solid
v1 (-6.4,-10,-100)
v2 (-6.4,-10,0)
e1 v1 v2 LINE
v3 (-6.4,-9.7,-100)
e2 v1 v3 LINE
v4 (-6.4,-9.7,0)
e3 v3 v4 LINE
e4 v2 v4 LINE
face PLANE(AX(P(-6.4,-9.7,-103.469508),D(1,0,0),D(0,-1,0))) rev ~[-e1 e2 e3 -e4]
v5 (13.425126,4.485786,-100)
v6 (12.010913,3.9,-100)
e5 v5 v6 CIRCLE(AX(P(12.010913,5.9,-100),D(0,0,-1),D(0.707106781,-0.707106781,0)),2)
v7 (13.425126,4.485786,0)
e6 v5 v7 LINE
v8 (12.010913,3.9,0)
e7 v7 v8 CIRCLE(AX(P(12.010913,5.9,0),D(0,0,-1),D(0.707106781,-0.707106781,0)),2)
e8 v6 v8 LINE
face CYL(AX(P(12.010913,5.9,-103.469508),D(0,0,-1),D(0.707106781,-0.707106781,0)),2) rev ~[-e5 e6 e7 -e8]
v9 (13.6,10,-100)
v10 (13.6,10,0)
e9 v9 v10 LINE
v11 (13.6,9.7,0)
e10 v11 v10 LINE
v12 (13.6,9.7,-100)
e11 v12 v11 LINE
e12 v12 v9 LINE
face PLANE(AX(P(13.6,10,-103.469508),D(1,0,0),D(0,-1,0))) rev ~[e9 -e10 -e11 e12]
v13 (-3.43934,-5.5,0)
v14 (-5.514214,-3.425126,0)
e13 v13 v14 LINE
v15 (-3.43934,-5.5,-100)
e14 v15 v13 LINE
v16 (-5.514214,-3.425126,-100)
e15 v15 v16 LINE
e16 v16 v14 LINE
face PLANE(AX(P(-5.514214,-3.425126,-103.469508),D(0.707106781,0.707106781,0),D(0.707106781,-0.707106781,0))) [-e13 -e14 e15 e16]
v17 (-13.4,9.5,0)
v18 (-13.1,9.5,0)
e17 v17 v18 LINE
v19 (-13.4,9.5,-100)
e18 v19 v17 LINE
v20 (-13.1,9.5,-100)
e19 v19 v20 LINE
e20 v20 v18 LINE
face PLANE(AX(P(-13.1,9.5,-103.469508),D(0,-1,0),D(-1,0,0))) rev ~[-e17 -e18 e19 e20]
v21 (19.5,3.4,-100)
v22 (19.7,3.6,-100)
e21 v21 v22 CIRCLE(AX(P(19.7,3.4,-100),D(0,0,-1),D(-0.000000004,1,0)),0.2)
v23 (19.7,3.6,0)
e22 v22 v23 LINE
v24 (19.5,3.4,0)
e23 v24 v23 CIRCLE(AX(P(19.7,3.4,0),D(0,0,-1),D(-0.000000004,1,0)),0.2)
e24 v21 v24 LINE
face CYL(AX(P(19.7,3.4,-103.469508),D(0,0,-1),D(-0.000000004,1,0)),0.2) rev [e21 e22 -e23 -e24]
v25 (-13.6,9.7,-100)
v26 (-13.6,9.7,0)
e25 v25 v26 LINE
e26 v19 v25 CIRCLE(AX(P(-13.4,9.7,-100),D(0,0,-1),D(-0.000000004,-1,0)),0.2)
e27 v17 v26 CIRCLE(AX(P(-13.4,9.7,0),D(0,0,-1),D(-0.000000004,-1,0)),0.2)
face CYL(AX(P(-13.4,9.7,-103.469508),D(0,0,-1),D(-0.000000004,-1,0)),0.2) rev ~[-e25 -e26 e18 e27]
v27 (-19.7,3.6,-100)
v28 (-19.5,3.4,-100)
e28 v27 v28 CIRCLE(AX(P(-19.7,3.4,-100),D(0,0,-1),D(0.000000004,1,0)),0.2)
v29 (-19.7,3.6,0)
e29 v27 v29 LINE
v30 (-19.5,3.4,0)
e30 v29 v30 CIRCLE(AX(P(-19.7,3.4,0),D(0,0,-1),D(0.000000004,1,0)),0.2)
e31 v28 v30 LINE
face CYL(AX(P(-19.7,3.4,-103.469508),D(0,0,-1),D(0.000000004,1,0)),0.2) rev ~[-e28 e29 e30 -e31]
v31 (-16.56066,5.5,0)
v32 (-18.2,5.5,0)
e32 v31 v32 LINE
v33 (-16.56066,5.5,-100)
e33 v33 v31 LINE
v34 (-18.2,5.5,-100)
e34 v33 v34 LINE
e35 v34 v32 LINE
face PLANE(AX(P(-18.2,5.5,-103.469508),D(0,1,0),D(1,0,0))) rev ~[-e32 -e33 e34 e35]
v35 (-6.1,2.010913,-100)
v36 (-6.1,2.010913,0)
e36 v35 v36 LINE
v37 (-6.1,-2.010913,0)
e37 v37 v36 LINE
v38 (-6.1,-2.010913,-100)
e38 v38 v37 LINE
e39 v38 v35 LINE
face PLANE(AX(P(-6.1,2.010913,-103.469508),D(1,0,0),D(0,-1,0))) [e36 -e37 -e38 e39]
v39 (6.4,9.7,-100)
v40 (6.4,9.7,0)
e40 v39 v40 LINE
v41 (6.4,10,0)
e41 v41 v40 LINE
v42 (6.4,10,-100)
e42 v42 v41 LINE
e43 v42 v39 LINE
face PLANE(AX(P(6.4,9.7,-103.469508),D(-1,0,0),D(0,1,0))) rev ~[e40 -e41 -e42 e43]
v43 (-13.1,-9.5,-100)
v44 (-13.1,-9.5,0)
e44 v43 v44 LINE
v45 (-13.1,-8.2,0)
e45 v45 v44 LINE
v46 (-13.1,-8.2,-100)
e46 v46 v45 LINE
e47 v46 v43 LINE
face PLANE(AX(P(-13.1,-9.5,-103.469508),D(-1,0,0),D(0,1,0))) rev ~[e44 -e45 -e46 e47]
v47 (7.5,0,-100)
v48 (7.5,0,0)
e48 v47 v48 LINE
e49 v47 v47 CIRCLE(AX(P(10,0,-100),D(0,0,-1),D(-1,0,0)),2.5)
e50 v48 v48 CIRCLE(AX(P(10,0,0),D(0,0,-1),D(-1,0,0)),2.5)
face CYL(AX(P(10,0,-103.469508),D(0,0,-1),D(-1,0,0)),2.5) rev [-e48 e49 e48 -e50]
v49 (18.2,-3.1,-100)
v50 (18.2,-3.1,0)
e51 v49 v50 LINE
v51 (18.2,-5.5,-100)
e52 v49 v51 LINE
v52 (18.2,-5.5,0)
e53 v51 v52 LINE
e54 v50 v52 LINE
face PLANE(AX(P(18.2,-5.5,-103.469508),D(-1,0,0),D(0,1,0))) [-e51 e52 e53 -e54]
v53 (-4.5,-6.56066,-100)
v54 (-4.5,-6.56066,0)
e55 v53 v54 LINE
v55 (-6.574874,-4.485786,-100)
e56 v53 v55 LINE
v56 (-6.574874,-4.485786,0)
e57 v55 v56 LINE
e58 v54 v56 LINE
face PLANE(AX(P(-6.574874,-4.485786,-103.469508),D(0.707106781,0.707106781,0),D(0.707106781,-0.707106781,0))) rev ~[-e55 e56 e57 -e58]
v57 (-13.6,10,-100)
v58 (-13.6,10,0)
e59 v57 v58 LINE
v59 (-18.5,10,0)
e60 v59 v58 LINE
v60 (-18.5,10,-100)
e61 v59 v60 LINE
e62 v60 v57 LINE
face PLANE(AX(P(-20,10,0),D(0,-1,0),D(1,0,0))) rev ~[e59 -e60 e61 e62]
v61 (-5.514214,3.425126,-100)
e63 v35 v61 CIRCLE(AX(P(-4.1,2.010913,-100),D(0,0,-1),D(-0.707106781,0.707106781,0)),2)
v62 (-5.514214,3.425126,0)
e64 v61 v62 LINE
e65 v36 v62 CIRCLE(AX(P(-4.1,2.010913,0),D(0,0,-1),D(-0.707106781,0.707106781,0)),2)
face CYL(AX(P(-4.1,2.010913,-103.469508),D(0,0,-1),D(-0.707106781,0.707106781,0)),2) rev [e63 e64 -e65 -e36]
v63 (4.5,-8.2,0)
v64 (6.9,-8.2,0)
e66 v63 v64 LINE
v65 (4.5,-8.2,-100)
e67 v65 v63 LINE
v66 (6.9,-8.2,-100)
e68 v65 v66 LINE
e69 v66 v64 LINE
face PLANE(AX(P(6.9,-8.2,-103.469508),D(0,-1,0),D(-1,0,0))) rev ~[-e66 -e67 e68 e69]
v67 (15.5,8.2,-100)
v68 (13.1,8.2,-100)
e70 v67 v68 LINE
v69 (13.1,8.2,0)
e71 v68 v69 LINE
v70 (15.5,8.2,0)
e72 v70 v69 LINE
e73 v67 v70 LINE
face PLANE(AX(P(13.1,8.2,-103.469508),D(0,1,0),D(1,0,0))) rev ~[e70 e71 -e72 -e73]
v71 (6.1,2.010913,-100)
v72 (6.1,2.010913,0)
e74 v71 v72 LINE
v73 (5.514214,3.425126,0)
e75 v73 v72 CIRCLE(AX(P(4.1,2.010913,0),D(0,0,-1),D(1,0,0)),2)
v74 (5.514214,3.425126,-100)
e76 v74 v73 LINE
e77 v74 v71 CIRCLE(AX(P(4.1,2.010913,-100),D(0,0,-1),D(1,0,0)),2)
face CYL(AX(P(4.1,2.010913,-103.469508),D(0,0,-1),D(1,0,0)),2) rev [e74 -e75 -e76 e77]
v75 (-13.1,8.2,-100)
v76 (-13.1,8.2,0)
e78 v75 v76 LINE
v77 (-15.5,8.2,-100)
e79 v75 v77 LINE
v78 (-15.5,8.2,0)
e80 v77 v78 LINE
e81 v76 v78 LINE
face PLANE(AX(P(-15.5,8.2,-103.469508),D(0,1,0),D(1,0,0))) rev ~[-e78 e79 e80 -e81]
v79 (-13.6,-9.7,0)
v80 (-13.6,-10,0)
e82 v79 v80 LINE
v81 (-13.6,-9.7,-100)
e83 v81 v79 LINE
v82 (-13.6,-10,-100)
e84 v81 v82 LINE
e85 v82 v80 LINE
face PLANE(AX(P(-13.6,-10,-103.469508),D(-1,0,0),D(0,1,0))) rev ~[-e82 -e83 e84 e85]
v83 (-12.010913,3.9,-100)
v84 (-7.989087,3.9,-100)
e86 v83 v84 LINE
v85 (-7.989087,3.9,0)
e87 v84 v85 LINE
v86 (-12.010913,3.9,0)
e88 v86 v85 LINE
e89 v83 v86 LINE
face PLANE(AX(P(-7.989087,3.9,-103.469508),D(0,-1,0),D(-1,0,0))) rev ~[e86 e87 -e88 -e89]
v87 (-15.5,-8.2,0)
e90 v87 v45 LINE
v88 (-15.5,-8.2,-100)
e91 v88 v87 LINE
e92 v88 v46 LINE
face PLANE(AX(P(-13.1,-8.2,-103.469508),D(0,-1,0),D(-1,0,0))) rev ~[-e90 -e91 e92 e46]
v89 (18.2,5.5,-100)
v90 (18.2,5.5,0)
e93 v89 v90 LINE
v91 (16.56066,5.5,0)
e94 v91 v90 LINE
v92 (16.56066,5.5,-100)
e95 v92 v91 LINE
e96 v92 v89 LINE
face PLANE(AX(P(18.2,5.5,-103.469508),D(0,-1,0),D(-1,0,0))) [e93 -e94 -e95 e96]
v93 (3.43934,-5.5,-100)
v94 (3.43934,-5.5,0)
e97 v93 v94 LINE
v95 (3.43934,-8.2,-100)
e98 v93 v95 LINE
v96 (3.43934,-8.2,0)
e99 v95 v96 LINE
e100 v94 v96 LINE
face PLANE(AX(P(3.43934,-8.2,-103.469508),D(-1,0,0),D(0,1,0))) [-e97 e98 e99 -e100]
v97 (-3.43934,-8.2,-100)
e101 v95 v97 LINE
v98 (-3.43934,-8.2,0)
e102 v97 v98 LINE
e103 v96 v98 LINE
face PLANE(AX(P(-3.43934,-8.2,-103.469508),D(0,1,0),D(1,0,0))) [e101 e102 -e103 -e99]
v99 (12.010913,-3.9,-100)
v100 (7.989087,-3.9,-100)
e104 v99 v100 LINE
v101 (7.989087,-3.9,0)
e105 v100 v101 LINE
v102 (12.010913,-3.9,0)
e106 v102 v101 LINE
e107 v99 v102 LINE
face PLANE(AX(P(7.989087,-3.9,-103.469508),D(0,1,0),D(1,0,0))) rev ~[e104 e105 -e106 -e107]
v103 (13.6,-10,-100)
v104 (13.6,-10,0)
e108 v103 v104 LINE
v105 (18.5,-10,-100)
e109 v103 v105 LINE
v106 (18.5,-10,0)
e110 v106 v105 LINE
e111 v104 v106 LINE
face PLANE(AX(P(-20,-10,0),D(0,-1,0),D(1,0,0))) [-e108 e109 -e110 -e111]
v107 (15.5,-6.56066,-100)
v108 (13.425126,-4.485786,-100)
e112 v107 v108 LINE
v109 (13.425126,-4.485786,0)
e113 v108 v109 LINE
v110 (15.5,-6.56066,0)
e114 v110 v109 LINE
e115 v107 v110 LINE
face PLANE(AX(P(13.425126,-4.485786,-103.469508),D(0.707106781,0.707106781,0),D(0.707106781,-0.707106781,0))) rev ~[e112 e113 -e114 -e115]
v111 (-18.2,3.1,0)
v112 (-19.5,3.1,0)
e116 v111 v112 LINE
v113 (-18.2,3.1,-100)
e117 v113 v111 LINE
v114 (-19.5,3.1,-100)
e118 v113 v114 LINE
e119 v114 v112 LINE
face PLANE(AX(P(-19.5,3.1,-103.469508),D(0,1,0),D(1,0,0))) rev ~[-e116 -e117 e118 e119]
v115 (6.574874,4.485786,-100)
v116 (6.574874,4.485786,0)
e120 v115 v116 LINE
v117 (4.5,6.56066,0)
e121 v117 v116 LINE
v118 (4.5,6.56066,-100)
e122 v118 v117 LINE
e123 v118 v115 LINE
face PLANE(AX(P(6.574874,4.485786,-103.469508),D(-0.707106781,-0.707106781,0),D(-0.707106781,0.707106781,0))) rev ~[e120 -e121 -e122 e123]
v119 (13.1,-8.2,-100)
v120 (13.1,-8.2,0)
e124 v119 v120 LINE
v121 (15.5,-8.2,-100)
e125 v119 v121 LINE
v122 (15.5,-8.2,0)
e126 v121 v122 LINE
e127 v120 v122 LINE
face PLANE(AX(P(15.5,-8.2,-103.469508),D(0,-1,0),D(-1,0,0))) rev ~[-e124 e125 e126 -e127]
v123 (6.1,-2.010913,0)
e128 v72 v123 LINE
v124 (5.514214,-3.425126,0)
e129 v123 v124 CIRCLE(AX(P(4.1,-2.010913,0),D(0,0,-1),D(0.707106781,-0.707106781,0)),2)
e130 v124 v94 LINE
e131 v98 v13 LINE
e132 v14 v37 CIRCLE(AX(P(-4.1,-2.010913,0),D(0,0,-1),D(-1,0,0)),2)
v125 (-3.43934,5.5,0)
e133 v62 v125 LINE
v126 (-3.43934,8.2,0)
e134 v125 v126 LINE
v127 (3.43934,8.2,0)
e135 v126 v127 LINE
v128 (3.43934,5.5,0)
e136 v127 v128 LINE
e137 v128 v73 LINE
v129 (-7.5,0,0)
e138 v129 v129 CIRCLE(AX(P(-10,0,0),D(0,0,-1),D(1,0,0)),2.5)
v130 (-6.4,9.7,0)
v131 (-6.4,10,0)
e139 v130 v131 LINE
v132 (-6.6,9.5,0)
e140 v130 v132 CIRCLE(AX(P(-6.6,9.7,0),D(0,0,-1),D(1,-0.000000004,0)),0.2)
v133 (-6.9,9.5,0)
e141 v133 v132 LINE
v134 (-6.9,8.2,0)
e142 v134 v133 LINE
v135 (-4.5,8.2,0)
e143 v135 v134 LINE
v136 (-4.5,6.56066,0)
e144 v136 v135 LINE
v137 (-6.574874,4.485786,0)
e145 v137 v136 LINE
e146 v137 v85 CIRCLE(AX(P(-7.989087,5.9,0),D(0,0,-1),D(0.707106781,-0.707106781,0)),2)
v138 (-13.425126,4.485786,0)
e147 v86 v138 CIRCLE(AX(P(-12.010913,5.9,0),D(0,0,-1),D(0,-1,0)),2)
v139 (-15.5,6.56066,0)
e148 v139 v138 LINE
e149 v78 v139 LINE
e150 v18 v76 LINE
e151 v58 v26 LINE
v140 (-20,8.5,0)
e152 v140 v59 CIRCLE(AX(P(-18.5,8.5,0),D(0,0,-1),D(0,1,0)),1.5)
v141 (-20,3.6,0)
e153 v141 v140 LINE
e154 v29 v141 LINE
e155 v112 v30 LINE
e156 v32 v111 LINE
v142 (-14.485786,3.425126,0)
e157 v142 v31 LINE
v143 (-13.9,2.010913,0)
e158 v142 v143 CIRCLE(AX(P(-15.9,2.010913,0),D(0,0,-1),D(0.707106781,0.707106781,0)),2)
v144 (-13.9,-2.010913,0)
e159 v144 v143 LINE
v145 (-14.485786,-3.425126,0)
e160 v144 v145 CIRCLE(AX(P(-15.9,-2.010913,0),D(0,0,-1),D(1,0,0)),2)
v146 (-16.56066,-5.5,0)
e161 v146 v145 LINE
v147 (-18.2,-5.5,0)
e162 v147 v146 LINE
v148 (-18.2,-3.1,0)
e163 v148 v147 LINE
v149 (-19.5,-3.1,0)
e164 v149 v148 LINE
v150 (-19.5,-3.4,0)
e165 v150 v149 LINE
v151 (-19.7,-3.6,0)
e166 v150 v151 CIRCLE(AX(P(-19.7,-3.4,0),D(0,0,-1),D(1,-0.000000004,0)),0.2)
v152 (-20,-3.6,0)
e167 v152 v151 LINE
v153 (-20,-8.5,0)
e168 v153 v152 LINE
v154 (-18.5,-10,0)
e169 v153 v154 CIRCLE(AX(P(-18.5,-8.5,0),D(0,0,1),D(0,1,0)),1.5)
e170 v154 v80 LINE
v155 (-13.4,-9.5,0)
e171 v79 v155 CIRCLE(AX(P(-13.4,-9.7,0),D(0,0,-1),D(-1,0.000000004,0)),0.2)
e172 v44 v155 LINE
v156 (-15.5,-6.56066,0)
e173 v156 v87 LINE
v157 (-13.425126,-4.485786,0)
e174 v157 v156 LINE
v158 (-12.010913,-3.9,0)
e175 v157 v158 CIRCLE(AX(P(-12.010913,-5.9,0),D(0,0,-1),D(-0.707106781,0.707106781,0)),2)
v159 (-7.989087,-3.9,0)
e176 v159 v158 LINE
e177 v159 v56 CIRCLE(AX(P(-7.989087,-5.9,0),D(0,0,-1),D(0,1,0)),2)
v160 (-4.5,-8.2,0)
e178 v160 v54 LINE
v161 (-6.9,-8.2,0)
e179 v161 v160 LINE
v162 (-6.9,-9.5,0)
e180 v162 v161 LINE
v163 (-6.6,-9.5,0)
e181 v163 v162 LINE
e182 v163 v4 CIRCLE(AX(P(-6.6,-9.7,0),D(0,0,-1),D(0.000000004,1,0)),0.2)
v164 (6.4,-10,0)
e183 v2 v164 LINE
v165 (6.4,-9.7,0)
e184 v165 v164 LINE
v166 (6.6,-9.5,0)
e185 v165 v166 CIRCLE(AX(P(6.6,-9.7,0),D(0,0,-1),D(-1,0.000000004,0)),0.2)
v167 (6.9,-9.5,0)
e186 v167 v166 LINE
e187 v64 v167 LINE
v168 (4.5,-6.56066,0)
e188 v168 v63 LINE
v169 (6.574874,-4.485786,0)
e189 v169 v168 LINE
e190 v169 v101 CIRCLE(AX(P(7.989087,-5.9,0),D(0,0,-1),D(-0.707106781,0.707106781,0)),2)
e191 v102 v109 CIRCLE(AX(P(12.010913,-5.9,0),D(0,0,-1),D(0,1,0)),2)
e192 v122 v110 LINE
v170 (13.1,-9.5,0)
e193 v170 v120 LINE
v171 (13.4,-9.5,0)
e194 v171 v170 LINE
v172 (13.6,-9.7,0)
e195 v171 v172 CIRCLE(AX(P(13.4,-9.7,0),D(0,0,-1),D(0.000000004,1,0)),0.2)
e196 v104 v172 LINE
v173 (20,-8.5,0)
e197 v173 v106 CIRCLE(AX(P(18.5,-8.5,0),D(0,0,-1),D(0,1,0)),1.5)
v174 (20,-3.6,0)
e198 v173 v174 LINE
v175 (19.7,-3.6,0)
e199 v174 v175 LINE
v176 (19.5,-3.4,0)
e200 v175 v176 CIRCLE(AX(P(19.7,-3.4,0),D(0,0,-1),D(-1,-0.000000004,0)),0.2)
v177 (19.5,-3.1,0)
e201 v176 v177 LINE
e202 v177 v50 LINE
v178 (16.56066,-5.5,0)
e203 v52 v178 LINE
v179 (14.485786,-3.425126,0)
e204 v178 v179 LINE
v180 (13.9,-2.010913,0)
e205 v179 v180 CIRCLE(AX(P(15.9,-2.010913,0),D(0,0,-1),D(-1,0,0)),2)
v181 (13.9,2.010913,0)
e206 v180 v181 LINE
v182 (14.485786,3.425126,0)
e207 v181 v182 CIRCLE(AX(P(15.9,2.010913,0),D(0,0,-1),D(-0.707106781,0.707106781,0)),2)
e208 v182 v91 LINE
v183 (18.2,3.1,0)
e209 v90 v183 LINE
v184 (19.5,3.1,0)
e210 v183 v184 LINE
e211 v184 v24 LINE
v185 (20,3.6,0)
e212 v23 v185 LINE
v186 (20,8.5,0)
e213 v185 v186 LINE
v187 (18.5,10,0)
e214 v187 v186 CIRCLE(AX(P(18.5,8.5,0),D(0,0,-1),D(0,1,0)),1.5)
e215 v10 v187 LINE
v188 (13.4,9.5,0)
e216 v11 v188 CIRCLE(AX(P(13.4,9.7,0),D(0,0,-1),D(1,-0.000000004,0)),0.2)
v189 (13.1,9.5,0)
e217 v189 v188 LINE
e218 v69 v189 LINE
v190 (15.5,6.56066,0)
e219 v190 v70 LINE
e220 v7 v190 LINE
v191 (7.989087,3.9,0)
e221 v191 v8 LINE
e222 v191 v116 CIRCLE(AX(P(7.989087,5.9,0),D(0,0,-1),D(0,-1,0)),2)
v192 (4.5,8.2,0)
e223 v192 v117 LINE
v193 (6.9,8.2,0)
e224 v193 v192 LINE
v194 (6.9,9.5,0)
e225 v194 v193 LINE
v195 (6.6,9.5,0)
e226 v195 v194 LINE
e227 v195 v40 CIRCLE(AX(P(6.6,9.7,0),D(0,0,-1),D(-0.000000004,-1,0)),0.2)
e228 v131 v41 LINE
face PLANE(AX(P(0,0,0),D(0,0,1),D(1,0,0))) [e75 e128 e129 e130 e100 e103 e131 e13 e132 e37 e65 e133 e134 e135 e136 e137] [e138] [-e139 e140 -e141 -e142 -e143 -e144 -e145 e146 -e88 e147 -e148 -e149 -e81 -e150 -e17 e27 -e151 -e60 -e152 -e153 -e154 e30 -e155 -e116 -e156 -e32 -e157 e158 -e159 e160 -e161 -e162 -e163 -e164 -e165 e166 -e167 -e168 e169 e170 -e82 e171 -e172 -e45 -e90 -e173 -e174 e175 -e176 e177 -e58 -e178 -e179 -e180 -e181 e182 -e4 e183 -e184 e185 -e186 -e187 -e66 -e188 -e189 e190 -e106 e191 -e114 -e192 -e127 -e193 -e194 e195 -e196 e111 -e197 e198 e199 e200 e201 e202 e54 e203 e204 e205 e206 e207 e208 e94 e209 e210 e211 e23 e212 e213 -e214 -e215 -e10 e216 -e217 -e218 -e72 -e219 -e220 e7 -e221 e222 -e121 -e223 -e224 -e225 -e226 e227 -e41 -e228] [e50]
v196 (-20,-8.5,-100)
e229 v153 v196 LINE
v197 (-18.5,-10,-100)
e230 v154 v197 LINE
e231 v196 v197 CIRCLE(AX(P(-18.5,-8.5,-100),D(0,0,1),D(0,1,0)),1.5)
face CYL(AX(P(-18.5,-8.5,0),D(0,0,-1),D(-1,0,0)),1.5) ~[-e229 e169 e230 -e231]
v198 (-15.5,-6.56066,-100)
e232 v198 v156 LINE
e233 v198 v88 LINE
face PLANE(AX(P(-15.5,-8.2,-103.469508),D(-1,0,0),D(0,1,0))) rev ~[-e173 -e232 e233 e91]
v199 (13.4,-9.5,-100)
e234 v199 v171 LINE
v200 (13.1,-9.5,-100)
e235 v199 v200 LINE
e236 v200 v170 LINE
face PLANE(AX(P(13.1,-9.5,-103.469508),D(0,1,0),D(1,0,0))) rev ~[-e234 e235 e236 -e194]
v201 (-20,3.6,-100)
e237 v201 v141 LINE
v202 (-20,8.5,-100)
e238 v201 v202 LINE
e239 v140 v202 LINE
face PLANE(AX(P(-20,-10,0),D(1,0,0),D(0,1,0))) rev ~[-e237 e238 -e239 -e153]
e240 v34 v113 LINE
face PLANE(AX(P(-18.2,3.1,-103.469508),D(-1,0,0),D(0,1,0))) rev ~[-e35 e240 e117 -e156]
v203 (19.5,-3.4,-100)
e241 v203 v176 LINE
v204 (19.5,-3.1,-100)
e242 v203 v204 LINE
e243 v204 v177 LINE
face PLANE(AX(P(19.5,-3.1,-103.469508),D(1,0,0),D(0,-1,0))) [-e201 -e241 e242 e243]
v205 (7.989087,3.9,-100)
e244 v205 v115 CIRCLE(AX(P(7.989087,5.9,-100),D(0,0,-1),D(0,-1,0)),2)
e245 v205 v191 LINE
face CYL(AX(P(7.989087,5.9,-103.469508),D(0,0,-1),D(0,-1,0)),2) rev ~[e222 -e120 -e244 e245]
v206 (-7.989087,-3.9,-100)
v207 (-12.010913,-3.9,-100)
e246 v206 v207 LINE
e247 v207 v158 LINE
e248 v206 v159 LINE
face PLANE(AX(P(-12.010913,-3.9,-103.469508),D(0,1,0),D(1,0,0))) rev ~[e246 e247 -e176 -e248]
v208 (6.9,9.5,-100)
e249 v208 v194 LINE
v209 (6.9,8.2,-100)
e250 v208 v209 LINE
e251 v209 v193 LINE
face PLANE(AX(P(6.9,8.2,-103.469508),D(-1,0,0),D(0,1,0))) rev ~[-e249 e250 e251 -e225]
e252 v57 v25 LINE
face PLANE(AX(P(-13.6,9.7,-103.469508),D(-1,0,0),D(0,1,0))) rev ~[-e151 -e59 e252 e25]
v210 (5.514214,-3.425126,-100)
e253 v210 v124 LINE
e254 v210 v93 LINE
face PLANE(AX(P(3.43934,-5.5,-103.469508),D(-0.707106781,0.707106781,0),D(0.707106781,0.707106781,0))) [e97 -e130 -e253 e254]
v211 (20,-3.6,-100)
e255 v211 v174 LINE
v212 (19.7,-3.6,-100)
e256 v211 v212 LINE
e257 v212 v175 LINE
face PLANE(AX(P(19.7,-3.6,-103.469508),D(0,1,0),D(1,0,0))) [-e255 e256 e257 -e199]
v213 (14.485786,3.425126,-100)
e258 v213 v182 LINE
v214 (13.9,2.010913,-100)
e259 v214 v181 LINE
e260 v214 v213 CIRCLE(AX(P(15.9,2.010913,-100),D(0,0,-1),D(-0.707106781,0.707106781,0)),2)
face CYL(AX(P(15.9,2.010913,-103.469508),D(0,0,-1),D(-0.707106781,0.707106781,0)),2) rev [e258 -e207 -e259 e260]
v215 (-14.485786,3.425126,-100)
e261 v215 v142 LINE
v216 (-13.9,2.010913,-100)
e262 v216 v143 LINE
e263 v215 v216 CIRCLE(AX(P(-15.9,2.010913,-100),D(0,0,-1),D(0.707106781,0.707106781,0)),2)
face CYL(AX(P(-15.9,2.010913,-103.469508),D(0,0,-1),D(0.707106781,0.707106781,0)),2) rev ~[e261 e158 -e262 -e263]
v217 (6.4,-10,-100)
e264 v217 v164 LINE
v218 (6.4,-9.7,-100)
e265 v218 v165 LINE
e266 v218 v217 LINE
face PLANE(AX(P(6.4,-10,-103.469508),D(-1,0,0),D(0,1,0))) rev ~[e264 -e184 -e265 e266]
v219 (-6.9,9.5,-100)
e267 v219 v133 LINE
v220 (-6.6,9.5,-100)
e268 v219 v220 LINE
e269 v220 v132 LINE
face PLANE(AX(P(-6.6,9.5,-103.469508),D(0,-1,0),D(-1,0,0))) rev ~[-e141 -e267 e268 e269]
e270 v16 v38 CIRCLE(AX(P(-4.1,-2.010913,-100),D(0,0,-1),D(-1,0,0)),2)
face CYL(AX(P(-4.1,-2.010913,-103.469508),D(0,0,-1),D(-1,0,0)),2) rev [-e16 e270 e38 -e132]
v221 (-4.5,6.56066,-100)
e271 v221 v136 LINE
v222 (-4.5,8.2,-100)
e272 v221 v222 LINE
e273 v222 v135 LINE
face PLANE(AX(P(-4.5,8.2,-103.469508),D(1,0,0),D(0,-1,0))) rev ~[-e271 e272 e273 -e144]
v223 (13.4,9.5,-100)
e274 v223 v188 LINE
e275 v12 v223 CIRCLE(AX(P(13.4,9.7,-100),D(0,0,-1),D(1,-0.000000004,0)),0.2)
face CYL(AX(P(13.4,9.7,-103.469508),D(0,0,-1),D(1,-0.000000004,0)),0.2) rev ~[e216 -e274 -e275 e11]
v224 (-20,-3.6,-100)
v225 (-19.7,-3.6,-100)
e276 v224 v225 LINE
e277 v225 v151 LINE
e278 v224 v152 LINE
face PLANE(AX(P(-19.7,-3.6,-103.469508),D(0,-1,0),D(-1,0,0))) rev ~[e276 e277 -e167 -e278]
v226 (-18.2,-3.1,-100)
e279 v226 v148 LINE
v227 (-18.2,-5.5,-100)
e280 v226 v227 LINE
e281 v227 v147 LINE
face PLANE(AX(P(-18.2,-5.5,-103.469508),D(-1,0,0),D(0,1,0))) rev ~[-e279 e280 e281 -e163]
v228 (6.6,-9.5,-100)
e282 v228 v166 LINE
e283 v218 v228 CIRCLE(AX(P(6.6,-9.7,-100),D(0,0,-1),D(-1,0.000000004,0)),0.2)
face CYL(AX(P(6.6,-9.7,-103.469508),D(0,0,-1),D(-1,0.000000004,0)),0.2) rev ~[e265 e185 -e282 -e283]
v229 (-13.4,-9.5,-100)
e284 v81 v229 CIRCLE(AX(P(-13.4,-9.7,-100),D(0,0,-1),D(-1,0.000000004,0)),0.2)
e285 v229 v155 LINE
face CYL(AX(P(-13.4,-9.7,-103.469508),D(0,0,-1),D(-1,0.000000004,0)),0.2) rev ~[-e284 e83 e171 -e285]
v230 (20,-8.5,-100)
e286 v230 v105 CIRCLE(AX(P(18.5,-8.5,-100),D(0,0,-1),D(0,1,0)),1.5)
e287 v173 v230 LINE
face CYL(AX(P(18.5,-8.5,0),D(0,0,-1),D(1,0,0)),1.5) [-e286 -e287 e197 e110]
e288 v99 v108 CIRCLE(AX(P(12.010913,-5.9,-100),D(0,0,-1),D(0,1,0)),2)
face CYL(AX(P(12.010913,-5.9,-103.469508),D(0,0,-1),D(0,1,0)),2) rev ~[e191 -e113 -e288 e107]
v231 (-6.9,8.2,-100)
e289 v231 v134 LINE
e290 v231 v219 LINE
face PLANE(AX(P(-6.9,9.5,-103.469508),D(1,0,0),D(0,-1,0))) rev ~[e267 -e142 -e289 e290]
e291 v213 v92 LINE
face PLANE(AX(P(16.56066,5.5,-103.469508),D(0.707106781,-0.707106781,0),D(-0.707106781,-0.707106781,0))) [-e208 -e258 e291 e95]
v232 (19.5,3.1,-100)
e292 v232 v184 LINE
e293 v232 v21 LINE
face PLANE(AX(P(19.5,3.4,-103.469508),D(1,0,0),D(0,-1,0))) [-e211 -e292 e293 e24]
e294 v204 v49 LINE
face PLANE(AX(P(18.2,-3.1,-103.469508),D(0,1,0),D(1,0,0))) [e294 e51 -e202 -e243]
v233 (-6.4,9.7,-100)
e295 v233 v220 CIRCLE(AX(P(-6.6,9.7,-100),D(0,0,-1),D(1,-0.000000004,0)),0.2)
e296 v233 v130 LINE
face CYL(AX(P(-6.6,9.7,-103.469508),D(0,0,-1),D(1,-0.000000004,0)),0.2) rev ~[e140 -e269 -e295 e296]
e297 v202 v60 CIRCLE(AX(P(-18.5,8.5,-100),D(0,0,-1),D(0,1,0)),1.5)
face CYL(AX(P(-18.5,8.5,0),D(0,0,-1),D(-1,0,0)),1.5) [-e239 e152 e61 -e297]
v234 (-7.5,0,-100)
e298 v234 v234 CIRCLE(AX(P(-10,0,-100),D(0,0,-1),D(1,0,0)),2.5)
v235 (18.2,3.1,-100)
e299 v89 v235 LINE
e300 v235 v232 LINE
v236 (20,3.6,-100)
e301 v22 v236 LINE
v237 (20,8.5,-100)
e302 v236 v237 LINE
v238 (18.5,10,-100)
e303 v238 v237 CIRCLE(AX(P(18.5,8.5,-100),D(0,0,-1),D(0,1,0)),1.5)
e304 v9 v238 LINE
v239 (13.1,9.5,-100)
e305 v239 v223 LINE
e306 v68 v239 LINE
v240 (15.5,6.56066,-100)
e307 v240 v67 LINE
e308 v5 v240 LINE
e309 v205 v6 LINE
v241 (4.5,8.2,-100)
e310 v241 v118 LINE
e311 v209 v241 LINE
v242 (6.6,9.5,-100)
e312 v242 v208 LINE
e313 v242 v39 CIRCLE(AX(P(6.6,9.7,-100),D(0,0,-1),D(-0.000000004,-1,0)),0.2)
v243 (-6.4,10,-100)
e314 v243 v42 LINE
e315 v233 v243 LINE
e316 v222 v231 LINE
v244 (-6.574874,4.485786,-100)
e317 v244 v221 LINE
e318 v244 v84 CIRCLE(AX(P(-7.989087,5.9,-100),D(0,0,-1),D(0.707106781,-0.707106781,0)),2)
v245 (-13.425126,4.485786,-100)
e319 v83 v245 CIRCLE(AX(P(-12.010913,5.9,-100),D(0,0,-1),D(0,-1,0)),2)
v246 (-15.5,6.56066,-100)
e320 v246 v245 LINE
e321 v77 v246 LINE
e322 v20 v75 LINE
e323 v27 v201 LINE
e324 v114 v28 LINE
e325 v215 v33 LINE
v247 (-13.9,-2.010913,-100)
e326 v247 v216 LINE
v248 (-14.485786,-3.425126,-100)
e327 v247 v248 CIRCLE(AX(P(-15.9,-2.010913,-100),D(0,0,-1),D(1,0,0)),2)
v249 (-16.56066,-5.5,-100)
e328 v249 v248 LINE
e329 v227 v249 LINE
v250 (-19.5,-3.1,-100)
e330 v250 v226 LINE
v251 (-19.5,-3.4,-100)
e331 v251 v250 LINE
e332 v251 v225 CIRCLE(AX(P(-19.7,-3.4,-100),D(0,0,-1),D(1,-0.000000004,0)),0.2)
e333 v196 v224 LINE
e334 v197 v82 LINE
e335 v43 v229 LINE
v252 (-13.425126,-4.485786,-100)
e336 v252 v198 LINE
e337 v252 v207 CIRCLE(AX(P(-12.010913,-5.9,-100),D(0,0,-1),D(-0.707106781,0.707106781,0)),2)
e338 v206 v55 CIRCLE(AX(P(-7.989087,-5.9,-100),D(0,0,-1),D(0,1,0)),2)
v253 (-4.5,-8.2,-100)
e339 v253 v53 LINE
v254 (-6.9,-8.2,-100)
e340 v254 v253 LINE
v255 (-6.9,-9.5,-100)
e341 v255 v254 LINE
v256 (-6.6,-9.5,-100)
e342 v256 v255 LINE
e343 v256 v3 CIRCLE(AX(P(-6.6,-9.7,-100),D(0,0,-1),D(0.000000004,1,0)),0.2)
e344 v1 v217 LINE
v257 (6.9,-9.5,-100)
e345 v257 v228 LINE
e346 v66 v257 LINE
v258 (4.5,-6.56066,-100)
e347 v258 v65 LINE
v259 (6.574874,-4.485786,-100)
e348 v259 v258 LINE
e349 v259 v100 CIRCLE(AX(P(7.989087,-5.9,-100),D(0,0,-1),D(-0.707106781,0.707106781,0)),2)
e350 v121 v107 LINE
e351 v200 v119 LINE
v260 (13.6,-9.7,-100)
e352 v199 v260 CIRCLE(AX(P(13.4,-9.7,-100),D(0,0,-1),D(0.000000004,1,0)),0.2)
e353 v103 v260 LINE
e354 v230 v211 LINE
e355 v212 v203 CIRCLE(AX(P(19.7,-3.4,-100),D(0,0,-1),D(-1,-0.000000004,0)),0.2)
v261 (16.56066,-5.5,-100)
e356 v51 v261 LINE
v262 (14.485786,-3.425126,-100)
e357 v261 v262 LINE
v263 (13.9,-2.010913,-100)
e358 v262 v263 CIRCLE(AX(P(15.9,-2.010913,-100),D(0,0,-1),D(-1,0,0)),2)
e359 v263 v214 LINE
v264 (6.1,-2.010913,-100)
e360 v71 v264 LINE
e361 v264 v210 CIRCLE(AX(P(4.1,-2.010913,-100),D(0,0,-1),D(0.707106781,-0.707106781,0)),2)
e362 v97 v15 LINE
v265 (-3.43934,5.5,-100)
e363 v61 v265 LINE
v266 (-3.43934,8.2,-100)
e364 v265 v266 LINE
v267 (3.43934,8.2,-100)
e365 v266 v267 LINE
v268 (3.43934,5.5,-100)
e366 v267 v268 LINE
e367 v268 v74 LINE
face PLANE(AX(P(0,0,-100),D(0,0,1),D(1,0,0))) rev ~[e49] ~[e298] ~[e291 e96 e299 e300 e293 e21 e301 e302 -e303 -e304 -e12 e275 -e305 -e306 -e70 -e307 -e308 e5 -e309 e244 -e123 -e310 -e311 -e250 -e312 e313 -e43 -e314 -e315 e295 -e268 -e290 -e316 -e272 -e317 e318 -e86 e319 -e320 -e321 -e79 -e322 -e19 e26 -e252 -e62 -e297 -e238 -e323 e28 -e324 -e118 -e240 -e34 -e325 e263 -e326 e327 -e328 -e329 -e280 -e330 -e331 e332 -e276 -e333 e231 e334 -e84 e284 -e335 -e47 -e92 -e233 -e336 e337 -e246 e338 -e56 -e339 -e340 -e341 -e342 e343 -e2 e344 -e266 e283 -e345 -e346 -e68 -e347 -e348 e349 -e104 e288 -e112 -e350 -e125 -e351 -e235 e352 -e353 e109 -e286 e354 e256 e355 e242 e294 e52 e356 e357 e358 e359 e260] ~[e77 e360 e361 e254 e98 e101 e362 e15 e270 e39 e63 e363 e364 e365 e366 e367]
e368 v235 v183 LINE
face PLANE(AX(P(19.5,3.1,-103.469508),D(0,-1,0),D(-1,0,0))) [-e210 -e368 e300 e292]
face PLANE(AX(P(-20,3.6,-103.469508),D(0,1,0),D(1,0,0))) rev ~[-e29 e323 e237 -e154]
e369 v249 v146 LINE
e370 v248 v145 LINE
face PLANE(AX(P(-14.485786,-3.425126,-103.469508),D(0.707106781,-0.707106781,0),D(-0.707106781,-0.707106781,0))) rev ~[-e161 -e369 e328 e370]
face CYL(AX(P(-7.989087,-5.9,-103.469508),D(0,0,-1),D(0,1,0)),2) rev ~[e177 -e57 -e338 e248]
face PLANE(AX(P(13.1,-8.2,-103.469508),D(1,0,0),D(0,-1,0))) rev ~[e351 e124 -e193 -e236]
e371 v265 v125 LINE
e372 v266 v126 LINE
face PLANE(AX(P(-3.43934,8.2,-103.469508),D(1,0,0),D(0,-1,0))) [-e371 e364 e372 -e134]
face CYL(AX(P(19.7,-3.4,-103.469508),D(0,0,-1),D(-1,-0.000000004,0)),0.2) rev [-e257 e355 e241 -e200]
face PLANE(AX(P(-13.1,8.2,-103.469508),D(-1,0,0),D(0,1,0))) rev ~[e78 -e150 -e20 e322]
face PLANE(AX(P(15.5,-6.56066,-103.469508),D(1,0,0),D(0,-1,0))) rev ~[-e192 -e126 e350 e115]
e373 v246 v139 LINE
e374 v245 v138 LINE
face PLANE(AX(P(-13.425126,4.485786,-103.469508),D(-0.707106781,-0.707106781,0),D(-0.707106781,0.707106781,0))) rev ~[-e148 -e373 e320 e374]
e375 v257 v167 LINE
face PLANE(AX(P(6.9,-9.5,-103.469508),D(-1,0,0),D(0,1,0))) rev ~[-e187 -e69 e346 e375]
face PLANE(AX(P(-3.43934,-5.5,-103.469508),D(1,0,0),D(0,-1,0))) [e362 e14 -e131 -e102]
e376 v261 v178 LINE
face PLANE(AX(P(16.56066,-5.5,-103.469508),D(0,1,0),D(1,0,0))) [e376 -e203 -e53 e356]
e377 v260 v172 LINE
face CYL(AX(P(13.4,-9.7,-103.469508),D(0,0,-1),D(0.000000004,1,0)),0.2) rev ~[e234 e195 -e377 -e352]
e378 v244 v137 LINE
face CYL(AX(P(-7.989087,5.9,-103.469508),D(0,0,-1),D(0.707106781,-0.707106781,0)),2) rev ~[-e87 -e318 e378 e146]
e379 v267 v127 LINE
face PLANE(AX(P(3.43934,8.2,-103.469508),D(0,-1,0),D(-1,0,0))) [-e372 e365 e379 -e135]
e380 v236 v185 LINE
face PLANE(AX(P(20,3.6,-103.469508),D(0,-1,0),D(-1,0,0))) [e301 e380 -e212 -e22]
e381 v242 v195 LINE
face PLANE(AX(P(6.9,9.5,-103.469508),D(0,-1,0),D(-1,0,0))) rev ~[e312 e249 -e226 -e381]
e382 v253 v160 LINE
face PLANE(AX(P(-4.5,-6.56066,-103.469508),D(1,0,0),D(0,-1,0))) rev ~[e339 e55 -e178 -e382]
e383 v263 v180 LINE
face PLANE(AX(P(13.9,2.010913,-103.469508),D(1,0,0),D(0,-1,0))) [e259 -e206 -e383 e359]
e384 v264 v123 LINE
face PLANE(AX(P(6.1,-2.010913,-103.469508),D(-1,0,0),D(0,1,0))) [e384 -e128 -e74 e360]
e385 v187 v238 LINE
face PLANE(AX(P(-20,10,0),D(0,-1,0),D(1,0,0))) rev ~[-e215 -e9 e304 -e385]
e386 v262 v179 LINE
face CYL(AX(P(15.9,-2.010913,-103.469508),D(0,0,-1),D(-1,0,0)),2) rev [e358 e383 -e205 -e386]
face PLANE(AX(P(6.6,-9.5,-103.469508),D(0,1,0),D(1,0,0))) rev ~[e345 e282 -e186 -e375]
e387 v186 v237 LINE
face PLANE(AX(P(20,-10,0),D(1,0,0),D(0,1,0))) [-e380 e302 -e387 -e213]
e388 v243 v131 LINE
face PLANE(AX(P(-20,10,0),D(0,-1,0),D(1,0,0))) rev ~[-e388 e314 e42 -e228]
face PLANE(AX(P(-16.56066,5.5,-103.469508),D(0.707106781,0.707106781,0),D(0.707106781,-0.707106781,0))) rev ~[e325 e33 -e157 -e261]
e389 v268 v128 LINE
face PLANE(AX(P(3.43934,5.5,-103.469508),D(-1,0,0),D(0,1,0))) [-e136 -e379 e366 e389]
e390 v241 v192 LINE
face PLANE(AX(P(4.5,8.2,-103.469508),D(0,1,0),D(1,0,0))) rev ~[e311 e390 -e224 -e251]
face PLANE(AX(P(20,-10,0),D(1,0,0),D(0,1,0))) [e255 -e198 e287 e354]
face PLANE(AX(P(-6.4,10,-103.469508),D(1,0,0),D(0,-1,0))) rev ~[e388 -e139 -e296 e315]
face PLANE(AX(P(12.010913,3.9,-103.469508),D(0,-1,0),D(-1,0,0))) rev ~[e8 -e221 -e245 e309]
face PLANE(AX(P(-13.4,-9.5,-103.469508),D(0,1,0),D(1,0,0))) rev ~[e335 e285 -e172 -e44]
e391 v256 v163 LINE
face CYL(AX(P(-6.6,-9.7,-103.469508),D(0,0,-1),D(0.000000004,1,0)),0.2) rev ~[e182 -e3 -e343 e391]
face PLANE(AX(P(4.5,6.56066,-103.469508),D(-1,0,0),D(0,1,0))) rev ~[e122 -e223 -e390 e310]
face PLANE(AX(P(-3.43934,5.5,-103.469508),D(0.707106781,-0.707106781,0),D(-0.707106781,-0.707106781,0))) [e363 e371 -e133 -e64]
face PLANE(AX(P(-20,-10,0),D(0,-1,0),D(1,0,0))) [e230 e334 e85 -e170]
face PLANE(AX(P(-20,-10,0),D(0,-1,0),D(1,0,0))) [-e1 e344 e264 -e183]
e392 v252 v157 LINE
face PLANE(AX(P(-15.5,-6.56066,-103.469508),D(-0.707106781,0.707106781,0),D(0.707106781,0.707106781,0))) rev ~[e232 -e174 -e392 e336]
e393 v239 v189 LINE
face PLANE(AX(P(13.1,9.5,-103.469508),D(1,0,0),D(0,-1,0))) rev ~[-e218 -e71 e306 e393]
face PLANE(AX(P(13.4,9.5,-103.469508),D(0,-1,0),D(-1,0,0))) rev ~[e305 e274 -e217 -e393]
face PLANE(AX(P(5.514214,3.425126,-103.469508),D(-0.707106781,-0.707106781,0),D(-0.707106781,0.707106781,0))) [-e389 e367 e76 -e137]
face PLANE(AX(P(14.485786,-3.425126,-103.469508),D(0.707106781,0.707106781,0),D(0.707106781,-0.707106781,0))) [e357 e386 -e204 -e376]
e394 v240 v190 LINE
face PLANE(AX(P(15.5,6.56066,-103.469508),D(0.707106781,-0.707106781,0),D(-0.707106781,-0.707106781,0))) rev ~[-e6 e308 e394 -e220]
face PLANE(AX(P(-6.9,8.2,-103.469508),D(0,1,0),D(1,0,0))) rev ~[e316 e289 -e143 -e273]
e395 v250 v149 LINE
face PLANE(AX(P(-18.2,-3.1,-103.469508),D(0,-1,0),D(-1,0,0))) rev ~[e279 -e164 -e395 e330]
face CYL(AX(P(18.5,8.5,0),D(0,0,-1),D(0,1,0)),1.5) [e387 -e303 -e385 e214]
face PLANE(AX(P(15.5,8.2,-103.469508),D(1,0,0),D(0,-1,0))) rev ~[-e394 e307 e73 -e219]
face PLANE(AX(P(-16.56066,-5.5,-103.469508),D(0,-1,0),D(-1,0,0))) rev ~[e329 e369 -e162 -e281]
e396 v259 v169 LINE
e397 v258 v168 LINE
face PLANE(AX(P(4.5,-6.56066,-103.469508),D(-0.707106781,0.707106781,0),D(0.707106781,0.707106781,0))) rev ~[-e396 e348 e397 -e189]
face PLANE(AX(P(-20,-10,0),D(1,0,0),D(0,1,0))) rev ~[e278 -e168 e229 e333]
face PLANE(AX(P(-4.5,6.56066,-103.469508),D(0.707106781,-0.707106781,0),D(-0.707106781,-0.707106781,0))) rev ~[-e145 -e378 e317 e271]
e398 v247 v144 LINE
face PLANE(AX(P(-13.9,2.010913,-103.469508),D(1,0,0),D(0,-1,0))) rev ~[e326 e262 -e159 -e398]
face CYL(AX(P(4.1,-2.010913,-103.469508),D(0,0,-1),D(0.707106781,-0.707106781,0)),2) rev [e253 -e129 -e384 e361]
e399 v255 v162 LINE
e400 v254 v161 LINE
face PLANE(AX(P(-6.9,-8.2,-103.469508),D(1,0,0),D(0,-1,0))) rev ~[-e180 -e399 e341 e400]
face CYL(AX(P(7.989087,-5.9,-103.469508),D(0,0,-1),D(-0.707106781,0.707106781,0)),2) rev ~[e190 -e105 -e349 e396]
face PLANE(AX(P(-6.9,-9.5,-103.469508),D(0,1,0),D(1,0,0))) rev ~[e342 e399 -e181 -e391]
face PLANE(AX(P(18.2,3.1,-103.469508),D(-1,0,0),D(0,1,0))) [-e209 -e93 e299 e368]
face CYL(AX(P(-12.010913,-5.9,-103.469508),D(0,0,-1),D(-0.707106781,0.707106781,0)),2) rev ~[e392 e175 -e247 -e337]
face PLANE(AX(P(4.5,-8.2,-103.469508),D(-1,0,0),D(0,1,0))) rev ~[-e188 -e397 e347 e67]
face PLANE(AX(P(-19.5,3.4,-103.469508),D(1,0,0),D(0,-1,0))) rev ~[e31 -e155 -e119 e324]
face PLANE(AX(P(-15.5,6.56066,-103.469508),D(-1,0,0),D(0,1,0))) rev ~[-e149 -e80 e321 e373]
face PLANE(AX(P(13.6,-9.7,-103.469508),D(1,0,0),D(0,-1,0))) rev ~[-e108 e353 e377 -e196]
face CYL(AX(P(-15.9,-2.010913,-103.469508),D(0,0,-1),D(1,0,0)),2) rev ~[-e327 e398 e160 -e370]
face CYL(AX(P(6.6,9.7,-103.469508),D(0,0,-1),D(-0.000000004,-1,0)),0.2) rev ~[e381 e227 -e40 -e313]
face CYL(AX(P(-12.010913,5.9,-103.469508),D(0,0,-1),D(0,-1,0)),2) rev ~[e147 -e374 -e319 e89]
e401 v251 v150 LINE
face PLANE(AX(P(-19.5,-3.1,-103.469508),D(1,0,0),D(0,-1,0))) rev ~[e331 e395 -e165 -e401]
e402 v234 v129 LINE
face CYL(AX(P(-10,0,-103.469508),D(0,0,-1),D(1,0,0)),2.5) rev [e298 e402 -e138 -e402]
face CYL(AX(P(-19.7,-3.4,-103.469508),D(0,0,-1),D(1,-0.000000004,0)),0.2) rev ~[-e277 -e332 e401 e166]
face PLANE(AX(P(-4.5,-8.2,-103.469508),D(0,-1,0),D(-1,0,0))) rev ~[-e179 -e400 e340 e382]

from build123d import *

# Parameters (mm, degrees)
SKETCH2_W               = 40
SKETCH2_H               = 20
BOSS_EXTRUDE1_DEPTH     = 100
CUT_EXTRUDE1_DEPTH      = 103.46950766
CUT_EXTRUDE1_DEPTH_BACK = 103.46950766
SKETCH3_R               = 2.5
FILLET1_R               = 1.5


with BuildPart() as part:
    # Sketch2 → Boss-Extrude1 (new body)
    with BuildSketch(Plane.XY):
        Rectangle(SKETCH2_W, SKETCH2_H)
    extrude(amount=-BOSS_EXTRUDE1_DEPTH)

    # Sketch3 → Cut-Extrude1 (cut, two sides: drawn at the far end of the back side and taken through both)
    with BuildSketch(Plane.XY.offset(-CUT_EXTRUDE1_DEPTH_BACK)):
        with Locations((-10, 0)):
            Circle(SKETCH3_R)
        with Locations(Location((10, 0, 0), (0, 0, 180))):
            Circle(SKETCH3_R)
        with BuildLine():
            Line((-13.6, 10), (-6.4, 10))
            Line((-6.4, 10), (-6.4, 9.7))
            ThreePointArc((-6.4, 9.7), (-6.458578644, 9.558578644), (-6.6, 9.5))
            Line((-6.6, 9.5), (-6.9, 9.5))
            Line((-6.9, 9.5), (-6.9, 8.2))
            Line((-6.9, 8.2), (-4.5, 8.2))
            Line((-4.5, 8.2), (-4.5, 6.560660172))
            Line((-4.5, 6.560660172), (-6.574873734, 4.485786438))
            ThreePointArc((-6.574873734, 4.485786438), (-7.223720432, 4.052240935), (-7.989087297, 3.9))
            Line((-7.989087297, 3.9), (-12.010912703, 3.9))
            ThreePointArc((-12.010912703, 3.9), (-12.776279568, 4.052240935), (-13.425126266, 4.485786438))
            Line((-13.425126266, 4.485786438), (-15.5, 6.560660172))
            Line((-15.5, 6.560660172), (-15.5, 8.2))
            Line((-15.5, 8.2), (-13.1, 8.2))
            Line((-13.1, 8.2), (-13.1, 9.5))
            Line((-13.1, 9.5), (-13.4, 9.5))
            ThreePointArc((-13.4, 9.5), (-13.541421356, 9.558578644), (-13.6, 9.7))
            Line((-13.6, 9.7), (-13.6, 10))
        make_face()
        with BuildLine():
            Line((-13.6, -10), (-13.6, -9.7))
            ThreePointArc((-13.6, -9.7), (-13.541421356, -9.558578644), (-13.4, -9.5))
            Line((-13.4, -9.5), (-13.1, -9.5))
            Line((-13.1, -9.5), (-13.1, -8.2))
            Line((-13.1, -8.2), (-15.5, -8.2))
            Line((-15.5, -8.2), (-15.5, -6.560660172))
            Line((-15.5, -6.560660172), (-13.425126266, -4.485786438))
            ThreePointArc((-13.425126266, -4.485786438), (-12.776279568, -4.052240935), (-12.010912703, -3.9))
            Line((-12.010912703, -3.9), (-7.989087297, -3.9))
            ThreePointArc((-7.989087297, -3.9), (-7.223720432, -4.052240935), (-6.574873734, -4.485786438))
            Line((-6.574873734, -4.485786438), (-4.5, -6.560660172))
            Line((-4.5, -6.560660172), (-4.5, -8.2))
            Line((-4.5, -8.2), (-6.9, -8.2))
            Line((-6.9, -8.2), (-6.9, -9.5))
            Line((-6.9, -9.5), (-6.6, -9.5))
            ThreePointArc((-6.6, -9.5), (-6.458578644, -9.558578644), (-6.4, -9.7))
            Line((-6.4, -9.7), (-6.4, -10))
            Line((-6.4, -10), (-13.6, -10))
        make_face()
        with BuildLine():
            Line((13.6, -10), (6.4, -10))
            Line((6.4, -10), (6.4, -9.7))
            ThreePointArc((6.4, -9.7), (6.458578644, -9.558578644), (6.6, -9.5))
            Line((6.6, -9.5), (6.9, -9.5))
            Line((6.9, -9.5), (6.9, -8.2))
            Line((6.9, -8.2), (4.5, -8.2))
            Line((4.5, -8.2), (4.5, -6.560660172))
            Line((4.5, -6.560660172), (6.574873734, -4.485786438))
            ThreePointArc((6.574873734, -4.485786438), (7.223720432, -4.052240935), (7.989087297, -3.9))
            Line((7.989087297, -3.9), (12.010912703, -3.9))
            ThreePointArc((12.010912703, -3.9), (12.776279568, -4.052240935), (13.425126266, -4.485786438))
            Line((13.425126266, -4.485786438), (15.5, -6.560660172))
            Line((15.5, -6.560660172), (15.5, -8.2))
            Line((15.5, -8.2), (13.1, -8.2))
            Line((13.1, -8.2), (13.1, -9.5))
            Line((13.1, -9.5), (13.4, -9.5))
            ThreePointArc((13.4, -9.5), (13.541421356, -9.558578644), (13.6, -9.7))
            Line((13.6, -9.7), (13.6, -10))
        make_face()
        with BuildLine():
            Line((13.6, 10), (13.6, 9.7))
            ThreePointArc((13.6, 9.7), (13.541421356, 9.558578644), (13.4, 9.5))
            Line((13.4, 9.5), (13.1, 9.5))
            Line((13.1, 9.5), (13.1, 8.2))
            Line((13.1, 8.2), (15.5, 8.2))
            Line((15.5, 8.2), (15.5, 6.560660172))
            Line((15.5, 6.560660172), (13.425126266, 4.485786438))
            ThreePointArc((13.425126266, 4.485786438), (12.776279568, 4.052240935), (12.010912703, 3.9))
            Line((12.010912703, 3.9), (7.989087297, 3.9))
            ThreePointArc((7.989087297, 3.9), (7.223720432, 4.052240935), (6.574873734, 4.485786438))
            Line((6.574873734, 4.485786438), (4.5, 6.560660172))
            Line((4.5, 6.560660172), (4.5, 8.2))
            Line((4.5, 8.2), (6.9, 8.2))
            Line((6.9, 8.2), (6.9, 9.5))
            Line((6.9, 9.5), (6.6, 9.5))
            ThreePointArc((6.6, 9.5), (6.458578644, 9.558578644), (6.4, 9.7))
            Line((6.4, 9.7), (6.4, 10))
            Line((6.4, 10), (13.6, 10))
        make_face()
        with BuildLine():
            Line((-16.560660172, -5.5), (-18.2, -5.5))
            Line((-18.2, -5.5), (-18.2, -3.1))
            Line((-18.2, -3.1), (-19.5, -3.1))
            Line((-19.5, -3.1), (-19.5, -3.4))
            ThreePointArc((-19.5, -3.4), (-19.558578644, -3.541421356), (-19.7, -3.6))
            Line((-19.7, -3.6), (-20, -3.6))
            Line((-20, -3.6), (-20, 3.6))
            Line((-20, 3.6), (-19.7, 3.6))
            ThreePointArc((-19.7, 3.6), (-19.558578644, 3.541421356), (-19.5, 3.4))
            Line((-19.5, 3.4), (-19.5, 3.1))
            Line((-19.5, 3.1), (-18.2, 3.1))
            Line((-18.2, 3.1), (-18.2, 5.5))
            Line((-18.2, 5.5), (-16.560660172, 5.5))
            Line((-16.560660172, 5.5), (-14.485786438, 3.425126266))
            ThreePointArc((-14.485786438, 3.425126266), (-14.052240935, 2.776279568), (-13.9, 2.010912703))
            Line((-13.9, 2.010912703), (-13.9, -2.010912703))
            ThreePointArc((-13.9, -2.010912703), (-14.052240935, -2.776279568), (-14.485786438, -3.425126266))
            Line((-14.485786438, -3.425126266), (-16.560660172, -5.5))
        make_face()
        with BuildLine():
            Line((14.485786438, -3.425126266), (16.560660172, -5.5))
            Line((16.560660172, -5.5), (18.2, -5.5))
            Line((18.2, -5.5), (18.2, -3.1))
            Line((18.2, -3.1), (19.5, -3.1))
            Line((19.5, -3.1), (19.5, -3.4))
            ThreePointArc((19.5, -3.4), (19.558578644, -3.541421356), (19.7, -3.6))
            Line((19.7, -3.6), (20, -3.6))
            Line((20, -3.6), (20, 3.6))
            Line((20, 3.6), (19.7, 3.6))
            ThreePointArc((19.7, 3.6), (19.558578644, 3.541421356), (19.5, 3.4))
            Line((19.5, 3.4), (19.5, 3.1))
            Line((19.5, 3.1), (18.2, 3.1))
            Line((18.2, 3.1), (18.2, 5.5))
            Line((18.2, 5.5), (16.560660172, 5.5))
            Line((16.560660172, 5.5), (14.485786438, 3.425126266))
            ThreePointArc((14.485786438, 3.425126266), (14.052240935, 2.776279568), (13.9, 2.010912703))
            Line((13.9, 2.010912703), (13.9, -2.010912703))
            ThreePointArc((13.9, -2.010912703), (14.052240935, -2.776279568), (14.485786438, -3.425126266))
        make_face()
        with BuildLine():
            Line((-3.439339828, 8.2), (-3.439339828, 5.5))
            Line((-3.439339828, 5.5), (-5.514213562, 3.425126266))
            ThreePointArc((-5.514213562, 3.425126266), (-5.947759065, 2.776279568), (-6.1, 2.010912703))
            Line((-6.1, 2.010912703), (-6.1, -2.010912703))
            ThreePointArc((-6.1, -2.010912703), (-5.947759065, -2.776279568), (-5.514213562, -3.425126266))
            Line((-5.514213562, -3.425126266), (-3.439339828, -5.5))
            Line((-3.439339828, -5.5), (-3.439339828, -8.2))
            Line((-3.439339828, -8.2), (3.439339828, -8.2))
            Line((3.439339828, -8.2), (3.439339828, -5.5))
            Line((3.439339828, -5.5), (5.514213562, -3.425126266))
            ThreePointArc((5.514213562, -3.425126266), (5.947759065, -2.776279568), (6.1, -2.010912703))
            Line((6.1, -2.010912703), (6.1, 2.010912703))
            ThreePointArc((6.1, 2.010912703), (5.947759065, 2.776279568), (5.514213562, 3.425126266))
            Line((5.514213562, 3.425126266), (3.439339828, 5.5))
            Line((3.439339828, 5.5), (3.439339828, 8.2))
            Line((3.439339828, 8.2), (-3.439339828, 8.2))
        make_face()
    extrude(amount=CUT_EXTRUDE1_DEPTH + CUT_EXTRUDE1_DEPTH_BACK, mode=Mode.SUBTRACT)

    # Fillet1
    fillet1_edges = [part.edges().sort_by_distance(p)[0] for p in [
        (20, -10, -50),
        (-20, -10, -50),
        (-20, 10, -50),
        (20, 10, -50),
    ]]
    fillet(fillet1_edges, radius=FILLET1_R)


solid = part.part
